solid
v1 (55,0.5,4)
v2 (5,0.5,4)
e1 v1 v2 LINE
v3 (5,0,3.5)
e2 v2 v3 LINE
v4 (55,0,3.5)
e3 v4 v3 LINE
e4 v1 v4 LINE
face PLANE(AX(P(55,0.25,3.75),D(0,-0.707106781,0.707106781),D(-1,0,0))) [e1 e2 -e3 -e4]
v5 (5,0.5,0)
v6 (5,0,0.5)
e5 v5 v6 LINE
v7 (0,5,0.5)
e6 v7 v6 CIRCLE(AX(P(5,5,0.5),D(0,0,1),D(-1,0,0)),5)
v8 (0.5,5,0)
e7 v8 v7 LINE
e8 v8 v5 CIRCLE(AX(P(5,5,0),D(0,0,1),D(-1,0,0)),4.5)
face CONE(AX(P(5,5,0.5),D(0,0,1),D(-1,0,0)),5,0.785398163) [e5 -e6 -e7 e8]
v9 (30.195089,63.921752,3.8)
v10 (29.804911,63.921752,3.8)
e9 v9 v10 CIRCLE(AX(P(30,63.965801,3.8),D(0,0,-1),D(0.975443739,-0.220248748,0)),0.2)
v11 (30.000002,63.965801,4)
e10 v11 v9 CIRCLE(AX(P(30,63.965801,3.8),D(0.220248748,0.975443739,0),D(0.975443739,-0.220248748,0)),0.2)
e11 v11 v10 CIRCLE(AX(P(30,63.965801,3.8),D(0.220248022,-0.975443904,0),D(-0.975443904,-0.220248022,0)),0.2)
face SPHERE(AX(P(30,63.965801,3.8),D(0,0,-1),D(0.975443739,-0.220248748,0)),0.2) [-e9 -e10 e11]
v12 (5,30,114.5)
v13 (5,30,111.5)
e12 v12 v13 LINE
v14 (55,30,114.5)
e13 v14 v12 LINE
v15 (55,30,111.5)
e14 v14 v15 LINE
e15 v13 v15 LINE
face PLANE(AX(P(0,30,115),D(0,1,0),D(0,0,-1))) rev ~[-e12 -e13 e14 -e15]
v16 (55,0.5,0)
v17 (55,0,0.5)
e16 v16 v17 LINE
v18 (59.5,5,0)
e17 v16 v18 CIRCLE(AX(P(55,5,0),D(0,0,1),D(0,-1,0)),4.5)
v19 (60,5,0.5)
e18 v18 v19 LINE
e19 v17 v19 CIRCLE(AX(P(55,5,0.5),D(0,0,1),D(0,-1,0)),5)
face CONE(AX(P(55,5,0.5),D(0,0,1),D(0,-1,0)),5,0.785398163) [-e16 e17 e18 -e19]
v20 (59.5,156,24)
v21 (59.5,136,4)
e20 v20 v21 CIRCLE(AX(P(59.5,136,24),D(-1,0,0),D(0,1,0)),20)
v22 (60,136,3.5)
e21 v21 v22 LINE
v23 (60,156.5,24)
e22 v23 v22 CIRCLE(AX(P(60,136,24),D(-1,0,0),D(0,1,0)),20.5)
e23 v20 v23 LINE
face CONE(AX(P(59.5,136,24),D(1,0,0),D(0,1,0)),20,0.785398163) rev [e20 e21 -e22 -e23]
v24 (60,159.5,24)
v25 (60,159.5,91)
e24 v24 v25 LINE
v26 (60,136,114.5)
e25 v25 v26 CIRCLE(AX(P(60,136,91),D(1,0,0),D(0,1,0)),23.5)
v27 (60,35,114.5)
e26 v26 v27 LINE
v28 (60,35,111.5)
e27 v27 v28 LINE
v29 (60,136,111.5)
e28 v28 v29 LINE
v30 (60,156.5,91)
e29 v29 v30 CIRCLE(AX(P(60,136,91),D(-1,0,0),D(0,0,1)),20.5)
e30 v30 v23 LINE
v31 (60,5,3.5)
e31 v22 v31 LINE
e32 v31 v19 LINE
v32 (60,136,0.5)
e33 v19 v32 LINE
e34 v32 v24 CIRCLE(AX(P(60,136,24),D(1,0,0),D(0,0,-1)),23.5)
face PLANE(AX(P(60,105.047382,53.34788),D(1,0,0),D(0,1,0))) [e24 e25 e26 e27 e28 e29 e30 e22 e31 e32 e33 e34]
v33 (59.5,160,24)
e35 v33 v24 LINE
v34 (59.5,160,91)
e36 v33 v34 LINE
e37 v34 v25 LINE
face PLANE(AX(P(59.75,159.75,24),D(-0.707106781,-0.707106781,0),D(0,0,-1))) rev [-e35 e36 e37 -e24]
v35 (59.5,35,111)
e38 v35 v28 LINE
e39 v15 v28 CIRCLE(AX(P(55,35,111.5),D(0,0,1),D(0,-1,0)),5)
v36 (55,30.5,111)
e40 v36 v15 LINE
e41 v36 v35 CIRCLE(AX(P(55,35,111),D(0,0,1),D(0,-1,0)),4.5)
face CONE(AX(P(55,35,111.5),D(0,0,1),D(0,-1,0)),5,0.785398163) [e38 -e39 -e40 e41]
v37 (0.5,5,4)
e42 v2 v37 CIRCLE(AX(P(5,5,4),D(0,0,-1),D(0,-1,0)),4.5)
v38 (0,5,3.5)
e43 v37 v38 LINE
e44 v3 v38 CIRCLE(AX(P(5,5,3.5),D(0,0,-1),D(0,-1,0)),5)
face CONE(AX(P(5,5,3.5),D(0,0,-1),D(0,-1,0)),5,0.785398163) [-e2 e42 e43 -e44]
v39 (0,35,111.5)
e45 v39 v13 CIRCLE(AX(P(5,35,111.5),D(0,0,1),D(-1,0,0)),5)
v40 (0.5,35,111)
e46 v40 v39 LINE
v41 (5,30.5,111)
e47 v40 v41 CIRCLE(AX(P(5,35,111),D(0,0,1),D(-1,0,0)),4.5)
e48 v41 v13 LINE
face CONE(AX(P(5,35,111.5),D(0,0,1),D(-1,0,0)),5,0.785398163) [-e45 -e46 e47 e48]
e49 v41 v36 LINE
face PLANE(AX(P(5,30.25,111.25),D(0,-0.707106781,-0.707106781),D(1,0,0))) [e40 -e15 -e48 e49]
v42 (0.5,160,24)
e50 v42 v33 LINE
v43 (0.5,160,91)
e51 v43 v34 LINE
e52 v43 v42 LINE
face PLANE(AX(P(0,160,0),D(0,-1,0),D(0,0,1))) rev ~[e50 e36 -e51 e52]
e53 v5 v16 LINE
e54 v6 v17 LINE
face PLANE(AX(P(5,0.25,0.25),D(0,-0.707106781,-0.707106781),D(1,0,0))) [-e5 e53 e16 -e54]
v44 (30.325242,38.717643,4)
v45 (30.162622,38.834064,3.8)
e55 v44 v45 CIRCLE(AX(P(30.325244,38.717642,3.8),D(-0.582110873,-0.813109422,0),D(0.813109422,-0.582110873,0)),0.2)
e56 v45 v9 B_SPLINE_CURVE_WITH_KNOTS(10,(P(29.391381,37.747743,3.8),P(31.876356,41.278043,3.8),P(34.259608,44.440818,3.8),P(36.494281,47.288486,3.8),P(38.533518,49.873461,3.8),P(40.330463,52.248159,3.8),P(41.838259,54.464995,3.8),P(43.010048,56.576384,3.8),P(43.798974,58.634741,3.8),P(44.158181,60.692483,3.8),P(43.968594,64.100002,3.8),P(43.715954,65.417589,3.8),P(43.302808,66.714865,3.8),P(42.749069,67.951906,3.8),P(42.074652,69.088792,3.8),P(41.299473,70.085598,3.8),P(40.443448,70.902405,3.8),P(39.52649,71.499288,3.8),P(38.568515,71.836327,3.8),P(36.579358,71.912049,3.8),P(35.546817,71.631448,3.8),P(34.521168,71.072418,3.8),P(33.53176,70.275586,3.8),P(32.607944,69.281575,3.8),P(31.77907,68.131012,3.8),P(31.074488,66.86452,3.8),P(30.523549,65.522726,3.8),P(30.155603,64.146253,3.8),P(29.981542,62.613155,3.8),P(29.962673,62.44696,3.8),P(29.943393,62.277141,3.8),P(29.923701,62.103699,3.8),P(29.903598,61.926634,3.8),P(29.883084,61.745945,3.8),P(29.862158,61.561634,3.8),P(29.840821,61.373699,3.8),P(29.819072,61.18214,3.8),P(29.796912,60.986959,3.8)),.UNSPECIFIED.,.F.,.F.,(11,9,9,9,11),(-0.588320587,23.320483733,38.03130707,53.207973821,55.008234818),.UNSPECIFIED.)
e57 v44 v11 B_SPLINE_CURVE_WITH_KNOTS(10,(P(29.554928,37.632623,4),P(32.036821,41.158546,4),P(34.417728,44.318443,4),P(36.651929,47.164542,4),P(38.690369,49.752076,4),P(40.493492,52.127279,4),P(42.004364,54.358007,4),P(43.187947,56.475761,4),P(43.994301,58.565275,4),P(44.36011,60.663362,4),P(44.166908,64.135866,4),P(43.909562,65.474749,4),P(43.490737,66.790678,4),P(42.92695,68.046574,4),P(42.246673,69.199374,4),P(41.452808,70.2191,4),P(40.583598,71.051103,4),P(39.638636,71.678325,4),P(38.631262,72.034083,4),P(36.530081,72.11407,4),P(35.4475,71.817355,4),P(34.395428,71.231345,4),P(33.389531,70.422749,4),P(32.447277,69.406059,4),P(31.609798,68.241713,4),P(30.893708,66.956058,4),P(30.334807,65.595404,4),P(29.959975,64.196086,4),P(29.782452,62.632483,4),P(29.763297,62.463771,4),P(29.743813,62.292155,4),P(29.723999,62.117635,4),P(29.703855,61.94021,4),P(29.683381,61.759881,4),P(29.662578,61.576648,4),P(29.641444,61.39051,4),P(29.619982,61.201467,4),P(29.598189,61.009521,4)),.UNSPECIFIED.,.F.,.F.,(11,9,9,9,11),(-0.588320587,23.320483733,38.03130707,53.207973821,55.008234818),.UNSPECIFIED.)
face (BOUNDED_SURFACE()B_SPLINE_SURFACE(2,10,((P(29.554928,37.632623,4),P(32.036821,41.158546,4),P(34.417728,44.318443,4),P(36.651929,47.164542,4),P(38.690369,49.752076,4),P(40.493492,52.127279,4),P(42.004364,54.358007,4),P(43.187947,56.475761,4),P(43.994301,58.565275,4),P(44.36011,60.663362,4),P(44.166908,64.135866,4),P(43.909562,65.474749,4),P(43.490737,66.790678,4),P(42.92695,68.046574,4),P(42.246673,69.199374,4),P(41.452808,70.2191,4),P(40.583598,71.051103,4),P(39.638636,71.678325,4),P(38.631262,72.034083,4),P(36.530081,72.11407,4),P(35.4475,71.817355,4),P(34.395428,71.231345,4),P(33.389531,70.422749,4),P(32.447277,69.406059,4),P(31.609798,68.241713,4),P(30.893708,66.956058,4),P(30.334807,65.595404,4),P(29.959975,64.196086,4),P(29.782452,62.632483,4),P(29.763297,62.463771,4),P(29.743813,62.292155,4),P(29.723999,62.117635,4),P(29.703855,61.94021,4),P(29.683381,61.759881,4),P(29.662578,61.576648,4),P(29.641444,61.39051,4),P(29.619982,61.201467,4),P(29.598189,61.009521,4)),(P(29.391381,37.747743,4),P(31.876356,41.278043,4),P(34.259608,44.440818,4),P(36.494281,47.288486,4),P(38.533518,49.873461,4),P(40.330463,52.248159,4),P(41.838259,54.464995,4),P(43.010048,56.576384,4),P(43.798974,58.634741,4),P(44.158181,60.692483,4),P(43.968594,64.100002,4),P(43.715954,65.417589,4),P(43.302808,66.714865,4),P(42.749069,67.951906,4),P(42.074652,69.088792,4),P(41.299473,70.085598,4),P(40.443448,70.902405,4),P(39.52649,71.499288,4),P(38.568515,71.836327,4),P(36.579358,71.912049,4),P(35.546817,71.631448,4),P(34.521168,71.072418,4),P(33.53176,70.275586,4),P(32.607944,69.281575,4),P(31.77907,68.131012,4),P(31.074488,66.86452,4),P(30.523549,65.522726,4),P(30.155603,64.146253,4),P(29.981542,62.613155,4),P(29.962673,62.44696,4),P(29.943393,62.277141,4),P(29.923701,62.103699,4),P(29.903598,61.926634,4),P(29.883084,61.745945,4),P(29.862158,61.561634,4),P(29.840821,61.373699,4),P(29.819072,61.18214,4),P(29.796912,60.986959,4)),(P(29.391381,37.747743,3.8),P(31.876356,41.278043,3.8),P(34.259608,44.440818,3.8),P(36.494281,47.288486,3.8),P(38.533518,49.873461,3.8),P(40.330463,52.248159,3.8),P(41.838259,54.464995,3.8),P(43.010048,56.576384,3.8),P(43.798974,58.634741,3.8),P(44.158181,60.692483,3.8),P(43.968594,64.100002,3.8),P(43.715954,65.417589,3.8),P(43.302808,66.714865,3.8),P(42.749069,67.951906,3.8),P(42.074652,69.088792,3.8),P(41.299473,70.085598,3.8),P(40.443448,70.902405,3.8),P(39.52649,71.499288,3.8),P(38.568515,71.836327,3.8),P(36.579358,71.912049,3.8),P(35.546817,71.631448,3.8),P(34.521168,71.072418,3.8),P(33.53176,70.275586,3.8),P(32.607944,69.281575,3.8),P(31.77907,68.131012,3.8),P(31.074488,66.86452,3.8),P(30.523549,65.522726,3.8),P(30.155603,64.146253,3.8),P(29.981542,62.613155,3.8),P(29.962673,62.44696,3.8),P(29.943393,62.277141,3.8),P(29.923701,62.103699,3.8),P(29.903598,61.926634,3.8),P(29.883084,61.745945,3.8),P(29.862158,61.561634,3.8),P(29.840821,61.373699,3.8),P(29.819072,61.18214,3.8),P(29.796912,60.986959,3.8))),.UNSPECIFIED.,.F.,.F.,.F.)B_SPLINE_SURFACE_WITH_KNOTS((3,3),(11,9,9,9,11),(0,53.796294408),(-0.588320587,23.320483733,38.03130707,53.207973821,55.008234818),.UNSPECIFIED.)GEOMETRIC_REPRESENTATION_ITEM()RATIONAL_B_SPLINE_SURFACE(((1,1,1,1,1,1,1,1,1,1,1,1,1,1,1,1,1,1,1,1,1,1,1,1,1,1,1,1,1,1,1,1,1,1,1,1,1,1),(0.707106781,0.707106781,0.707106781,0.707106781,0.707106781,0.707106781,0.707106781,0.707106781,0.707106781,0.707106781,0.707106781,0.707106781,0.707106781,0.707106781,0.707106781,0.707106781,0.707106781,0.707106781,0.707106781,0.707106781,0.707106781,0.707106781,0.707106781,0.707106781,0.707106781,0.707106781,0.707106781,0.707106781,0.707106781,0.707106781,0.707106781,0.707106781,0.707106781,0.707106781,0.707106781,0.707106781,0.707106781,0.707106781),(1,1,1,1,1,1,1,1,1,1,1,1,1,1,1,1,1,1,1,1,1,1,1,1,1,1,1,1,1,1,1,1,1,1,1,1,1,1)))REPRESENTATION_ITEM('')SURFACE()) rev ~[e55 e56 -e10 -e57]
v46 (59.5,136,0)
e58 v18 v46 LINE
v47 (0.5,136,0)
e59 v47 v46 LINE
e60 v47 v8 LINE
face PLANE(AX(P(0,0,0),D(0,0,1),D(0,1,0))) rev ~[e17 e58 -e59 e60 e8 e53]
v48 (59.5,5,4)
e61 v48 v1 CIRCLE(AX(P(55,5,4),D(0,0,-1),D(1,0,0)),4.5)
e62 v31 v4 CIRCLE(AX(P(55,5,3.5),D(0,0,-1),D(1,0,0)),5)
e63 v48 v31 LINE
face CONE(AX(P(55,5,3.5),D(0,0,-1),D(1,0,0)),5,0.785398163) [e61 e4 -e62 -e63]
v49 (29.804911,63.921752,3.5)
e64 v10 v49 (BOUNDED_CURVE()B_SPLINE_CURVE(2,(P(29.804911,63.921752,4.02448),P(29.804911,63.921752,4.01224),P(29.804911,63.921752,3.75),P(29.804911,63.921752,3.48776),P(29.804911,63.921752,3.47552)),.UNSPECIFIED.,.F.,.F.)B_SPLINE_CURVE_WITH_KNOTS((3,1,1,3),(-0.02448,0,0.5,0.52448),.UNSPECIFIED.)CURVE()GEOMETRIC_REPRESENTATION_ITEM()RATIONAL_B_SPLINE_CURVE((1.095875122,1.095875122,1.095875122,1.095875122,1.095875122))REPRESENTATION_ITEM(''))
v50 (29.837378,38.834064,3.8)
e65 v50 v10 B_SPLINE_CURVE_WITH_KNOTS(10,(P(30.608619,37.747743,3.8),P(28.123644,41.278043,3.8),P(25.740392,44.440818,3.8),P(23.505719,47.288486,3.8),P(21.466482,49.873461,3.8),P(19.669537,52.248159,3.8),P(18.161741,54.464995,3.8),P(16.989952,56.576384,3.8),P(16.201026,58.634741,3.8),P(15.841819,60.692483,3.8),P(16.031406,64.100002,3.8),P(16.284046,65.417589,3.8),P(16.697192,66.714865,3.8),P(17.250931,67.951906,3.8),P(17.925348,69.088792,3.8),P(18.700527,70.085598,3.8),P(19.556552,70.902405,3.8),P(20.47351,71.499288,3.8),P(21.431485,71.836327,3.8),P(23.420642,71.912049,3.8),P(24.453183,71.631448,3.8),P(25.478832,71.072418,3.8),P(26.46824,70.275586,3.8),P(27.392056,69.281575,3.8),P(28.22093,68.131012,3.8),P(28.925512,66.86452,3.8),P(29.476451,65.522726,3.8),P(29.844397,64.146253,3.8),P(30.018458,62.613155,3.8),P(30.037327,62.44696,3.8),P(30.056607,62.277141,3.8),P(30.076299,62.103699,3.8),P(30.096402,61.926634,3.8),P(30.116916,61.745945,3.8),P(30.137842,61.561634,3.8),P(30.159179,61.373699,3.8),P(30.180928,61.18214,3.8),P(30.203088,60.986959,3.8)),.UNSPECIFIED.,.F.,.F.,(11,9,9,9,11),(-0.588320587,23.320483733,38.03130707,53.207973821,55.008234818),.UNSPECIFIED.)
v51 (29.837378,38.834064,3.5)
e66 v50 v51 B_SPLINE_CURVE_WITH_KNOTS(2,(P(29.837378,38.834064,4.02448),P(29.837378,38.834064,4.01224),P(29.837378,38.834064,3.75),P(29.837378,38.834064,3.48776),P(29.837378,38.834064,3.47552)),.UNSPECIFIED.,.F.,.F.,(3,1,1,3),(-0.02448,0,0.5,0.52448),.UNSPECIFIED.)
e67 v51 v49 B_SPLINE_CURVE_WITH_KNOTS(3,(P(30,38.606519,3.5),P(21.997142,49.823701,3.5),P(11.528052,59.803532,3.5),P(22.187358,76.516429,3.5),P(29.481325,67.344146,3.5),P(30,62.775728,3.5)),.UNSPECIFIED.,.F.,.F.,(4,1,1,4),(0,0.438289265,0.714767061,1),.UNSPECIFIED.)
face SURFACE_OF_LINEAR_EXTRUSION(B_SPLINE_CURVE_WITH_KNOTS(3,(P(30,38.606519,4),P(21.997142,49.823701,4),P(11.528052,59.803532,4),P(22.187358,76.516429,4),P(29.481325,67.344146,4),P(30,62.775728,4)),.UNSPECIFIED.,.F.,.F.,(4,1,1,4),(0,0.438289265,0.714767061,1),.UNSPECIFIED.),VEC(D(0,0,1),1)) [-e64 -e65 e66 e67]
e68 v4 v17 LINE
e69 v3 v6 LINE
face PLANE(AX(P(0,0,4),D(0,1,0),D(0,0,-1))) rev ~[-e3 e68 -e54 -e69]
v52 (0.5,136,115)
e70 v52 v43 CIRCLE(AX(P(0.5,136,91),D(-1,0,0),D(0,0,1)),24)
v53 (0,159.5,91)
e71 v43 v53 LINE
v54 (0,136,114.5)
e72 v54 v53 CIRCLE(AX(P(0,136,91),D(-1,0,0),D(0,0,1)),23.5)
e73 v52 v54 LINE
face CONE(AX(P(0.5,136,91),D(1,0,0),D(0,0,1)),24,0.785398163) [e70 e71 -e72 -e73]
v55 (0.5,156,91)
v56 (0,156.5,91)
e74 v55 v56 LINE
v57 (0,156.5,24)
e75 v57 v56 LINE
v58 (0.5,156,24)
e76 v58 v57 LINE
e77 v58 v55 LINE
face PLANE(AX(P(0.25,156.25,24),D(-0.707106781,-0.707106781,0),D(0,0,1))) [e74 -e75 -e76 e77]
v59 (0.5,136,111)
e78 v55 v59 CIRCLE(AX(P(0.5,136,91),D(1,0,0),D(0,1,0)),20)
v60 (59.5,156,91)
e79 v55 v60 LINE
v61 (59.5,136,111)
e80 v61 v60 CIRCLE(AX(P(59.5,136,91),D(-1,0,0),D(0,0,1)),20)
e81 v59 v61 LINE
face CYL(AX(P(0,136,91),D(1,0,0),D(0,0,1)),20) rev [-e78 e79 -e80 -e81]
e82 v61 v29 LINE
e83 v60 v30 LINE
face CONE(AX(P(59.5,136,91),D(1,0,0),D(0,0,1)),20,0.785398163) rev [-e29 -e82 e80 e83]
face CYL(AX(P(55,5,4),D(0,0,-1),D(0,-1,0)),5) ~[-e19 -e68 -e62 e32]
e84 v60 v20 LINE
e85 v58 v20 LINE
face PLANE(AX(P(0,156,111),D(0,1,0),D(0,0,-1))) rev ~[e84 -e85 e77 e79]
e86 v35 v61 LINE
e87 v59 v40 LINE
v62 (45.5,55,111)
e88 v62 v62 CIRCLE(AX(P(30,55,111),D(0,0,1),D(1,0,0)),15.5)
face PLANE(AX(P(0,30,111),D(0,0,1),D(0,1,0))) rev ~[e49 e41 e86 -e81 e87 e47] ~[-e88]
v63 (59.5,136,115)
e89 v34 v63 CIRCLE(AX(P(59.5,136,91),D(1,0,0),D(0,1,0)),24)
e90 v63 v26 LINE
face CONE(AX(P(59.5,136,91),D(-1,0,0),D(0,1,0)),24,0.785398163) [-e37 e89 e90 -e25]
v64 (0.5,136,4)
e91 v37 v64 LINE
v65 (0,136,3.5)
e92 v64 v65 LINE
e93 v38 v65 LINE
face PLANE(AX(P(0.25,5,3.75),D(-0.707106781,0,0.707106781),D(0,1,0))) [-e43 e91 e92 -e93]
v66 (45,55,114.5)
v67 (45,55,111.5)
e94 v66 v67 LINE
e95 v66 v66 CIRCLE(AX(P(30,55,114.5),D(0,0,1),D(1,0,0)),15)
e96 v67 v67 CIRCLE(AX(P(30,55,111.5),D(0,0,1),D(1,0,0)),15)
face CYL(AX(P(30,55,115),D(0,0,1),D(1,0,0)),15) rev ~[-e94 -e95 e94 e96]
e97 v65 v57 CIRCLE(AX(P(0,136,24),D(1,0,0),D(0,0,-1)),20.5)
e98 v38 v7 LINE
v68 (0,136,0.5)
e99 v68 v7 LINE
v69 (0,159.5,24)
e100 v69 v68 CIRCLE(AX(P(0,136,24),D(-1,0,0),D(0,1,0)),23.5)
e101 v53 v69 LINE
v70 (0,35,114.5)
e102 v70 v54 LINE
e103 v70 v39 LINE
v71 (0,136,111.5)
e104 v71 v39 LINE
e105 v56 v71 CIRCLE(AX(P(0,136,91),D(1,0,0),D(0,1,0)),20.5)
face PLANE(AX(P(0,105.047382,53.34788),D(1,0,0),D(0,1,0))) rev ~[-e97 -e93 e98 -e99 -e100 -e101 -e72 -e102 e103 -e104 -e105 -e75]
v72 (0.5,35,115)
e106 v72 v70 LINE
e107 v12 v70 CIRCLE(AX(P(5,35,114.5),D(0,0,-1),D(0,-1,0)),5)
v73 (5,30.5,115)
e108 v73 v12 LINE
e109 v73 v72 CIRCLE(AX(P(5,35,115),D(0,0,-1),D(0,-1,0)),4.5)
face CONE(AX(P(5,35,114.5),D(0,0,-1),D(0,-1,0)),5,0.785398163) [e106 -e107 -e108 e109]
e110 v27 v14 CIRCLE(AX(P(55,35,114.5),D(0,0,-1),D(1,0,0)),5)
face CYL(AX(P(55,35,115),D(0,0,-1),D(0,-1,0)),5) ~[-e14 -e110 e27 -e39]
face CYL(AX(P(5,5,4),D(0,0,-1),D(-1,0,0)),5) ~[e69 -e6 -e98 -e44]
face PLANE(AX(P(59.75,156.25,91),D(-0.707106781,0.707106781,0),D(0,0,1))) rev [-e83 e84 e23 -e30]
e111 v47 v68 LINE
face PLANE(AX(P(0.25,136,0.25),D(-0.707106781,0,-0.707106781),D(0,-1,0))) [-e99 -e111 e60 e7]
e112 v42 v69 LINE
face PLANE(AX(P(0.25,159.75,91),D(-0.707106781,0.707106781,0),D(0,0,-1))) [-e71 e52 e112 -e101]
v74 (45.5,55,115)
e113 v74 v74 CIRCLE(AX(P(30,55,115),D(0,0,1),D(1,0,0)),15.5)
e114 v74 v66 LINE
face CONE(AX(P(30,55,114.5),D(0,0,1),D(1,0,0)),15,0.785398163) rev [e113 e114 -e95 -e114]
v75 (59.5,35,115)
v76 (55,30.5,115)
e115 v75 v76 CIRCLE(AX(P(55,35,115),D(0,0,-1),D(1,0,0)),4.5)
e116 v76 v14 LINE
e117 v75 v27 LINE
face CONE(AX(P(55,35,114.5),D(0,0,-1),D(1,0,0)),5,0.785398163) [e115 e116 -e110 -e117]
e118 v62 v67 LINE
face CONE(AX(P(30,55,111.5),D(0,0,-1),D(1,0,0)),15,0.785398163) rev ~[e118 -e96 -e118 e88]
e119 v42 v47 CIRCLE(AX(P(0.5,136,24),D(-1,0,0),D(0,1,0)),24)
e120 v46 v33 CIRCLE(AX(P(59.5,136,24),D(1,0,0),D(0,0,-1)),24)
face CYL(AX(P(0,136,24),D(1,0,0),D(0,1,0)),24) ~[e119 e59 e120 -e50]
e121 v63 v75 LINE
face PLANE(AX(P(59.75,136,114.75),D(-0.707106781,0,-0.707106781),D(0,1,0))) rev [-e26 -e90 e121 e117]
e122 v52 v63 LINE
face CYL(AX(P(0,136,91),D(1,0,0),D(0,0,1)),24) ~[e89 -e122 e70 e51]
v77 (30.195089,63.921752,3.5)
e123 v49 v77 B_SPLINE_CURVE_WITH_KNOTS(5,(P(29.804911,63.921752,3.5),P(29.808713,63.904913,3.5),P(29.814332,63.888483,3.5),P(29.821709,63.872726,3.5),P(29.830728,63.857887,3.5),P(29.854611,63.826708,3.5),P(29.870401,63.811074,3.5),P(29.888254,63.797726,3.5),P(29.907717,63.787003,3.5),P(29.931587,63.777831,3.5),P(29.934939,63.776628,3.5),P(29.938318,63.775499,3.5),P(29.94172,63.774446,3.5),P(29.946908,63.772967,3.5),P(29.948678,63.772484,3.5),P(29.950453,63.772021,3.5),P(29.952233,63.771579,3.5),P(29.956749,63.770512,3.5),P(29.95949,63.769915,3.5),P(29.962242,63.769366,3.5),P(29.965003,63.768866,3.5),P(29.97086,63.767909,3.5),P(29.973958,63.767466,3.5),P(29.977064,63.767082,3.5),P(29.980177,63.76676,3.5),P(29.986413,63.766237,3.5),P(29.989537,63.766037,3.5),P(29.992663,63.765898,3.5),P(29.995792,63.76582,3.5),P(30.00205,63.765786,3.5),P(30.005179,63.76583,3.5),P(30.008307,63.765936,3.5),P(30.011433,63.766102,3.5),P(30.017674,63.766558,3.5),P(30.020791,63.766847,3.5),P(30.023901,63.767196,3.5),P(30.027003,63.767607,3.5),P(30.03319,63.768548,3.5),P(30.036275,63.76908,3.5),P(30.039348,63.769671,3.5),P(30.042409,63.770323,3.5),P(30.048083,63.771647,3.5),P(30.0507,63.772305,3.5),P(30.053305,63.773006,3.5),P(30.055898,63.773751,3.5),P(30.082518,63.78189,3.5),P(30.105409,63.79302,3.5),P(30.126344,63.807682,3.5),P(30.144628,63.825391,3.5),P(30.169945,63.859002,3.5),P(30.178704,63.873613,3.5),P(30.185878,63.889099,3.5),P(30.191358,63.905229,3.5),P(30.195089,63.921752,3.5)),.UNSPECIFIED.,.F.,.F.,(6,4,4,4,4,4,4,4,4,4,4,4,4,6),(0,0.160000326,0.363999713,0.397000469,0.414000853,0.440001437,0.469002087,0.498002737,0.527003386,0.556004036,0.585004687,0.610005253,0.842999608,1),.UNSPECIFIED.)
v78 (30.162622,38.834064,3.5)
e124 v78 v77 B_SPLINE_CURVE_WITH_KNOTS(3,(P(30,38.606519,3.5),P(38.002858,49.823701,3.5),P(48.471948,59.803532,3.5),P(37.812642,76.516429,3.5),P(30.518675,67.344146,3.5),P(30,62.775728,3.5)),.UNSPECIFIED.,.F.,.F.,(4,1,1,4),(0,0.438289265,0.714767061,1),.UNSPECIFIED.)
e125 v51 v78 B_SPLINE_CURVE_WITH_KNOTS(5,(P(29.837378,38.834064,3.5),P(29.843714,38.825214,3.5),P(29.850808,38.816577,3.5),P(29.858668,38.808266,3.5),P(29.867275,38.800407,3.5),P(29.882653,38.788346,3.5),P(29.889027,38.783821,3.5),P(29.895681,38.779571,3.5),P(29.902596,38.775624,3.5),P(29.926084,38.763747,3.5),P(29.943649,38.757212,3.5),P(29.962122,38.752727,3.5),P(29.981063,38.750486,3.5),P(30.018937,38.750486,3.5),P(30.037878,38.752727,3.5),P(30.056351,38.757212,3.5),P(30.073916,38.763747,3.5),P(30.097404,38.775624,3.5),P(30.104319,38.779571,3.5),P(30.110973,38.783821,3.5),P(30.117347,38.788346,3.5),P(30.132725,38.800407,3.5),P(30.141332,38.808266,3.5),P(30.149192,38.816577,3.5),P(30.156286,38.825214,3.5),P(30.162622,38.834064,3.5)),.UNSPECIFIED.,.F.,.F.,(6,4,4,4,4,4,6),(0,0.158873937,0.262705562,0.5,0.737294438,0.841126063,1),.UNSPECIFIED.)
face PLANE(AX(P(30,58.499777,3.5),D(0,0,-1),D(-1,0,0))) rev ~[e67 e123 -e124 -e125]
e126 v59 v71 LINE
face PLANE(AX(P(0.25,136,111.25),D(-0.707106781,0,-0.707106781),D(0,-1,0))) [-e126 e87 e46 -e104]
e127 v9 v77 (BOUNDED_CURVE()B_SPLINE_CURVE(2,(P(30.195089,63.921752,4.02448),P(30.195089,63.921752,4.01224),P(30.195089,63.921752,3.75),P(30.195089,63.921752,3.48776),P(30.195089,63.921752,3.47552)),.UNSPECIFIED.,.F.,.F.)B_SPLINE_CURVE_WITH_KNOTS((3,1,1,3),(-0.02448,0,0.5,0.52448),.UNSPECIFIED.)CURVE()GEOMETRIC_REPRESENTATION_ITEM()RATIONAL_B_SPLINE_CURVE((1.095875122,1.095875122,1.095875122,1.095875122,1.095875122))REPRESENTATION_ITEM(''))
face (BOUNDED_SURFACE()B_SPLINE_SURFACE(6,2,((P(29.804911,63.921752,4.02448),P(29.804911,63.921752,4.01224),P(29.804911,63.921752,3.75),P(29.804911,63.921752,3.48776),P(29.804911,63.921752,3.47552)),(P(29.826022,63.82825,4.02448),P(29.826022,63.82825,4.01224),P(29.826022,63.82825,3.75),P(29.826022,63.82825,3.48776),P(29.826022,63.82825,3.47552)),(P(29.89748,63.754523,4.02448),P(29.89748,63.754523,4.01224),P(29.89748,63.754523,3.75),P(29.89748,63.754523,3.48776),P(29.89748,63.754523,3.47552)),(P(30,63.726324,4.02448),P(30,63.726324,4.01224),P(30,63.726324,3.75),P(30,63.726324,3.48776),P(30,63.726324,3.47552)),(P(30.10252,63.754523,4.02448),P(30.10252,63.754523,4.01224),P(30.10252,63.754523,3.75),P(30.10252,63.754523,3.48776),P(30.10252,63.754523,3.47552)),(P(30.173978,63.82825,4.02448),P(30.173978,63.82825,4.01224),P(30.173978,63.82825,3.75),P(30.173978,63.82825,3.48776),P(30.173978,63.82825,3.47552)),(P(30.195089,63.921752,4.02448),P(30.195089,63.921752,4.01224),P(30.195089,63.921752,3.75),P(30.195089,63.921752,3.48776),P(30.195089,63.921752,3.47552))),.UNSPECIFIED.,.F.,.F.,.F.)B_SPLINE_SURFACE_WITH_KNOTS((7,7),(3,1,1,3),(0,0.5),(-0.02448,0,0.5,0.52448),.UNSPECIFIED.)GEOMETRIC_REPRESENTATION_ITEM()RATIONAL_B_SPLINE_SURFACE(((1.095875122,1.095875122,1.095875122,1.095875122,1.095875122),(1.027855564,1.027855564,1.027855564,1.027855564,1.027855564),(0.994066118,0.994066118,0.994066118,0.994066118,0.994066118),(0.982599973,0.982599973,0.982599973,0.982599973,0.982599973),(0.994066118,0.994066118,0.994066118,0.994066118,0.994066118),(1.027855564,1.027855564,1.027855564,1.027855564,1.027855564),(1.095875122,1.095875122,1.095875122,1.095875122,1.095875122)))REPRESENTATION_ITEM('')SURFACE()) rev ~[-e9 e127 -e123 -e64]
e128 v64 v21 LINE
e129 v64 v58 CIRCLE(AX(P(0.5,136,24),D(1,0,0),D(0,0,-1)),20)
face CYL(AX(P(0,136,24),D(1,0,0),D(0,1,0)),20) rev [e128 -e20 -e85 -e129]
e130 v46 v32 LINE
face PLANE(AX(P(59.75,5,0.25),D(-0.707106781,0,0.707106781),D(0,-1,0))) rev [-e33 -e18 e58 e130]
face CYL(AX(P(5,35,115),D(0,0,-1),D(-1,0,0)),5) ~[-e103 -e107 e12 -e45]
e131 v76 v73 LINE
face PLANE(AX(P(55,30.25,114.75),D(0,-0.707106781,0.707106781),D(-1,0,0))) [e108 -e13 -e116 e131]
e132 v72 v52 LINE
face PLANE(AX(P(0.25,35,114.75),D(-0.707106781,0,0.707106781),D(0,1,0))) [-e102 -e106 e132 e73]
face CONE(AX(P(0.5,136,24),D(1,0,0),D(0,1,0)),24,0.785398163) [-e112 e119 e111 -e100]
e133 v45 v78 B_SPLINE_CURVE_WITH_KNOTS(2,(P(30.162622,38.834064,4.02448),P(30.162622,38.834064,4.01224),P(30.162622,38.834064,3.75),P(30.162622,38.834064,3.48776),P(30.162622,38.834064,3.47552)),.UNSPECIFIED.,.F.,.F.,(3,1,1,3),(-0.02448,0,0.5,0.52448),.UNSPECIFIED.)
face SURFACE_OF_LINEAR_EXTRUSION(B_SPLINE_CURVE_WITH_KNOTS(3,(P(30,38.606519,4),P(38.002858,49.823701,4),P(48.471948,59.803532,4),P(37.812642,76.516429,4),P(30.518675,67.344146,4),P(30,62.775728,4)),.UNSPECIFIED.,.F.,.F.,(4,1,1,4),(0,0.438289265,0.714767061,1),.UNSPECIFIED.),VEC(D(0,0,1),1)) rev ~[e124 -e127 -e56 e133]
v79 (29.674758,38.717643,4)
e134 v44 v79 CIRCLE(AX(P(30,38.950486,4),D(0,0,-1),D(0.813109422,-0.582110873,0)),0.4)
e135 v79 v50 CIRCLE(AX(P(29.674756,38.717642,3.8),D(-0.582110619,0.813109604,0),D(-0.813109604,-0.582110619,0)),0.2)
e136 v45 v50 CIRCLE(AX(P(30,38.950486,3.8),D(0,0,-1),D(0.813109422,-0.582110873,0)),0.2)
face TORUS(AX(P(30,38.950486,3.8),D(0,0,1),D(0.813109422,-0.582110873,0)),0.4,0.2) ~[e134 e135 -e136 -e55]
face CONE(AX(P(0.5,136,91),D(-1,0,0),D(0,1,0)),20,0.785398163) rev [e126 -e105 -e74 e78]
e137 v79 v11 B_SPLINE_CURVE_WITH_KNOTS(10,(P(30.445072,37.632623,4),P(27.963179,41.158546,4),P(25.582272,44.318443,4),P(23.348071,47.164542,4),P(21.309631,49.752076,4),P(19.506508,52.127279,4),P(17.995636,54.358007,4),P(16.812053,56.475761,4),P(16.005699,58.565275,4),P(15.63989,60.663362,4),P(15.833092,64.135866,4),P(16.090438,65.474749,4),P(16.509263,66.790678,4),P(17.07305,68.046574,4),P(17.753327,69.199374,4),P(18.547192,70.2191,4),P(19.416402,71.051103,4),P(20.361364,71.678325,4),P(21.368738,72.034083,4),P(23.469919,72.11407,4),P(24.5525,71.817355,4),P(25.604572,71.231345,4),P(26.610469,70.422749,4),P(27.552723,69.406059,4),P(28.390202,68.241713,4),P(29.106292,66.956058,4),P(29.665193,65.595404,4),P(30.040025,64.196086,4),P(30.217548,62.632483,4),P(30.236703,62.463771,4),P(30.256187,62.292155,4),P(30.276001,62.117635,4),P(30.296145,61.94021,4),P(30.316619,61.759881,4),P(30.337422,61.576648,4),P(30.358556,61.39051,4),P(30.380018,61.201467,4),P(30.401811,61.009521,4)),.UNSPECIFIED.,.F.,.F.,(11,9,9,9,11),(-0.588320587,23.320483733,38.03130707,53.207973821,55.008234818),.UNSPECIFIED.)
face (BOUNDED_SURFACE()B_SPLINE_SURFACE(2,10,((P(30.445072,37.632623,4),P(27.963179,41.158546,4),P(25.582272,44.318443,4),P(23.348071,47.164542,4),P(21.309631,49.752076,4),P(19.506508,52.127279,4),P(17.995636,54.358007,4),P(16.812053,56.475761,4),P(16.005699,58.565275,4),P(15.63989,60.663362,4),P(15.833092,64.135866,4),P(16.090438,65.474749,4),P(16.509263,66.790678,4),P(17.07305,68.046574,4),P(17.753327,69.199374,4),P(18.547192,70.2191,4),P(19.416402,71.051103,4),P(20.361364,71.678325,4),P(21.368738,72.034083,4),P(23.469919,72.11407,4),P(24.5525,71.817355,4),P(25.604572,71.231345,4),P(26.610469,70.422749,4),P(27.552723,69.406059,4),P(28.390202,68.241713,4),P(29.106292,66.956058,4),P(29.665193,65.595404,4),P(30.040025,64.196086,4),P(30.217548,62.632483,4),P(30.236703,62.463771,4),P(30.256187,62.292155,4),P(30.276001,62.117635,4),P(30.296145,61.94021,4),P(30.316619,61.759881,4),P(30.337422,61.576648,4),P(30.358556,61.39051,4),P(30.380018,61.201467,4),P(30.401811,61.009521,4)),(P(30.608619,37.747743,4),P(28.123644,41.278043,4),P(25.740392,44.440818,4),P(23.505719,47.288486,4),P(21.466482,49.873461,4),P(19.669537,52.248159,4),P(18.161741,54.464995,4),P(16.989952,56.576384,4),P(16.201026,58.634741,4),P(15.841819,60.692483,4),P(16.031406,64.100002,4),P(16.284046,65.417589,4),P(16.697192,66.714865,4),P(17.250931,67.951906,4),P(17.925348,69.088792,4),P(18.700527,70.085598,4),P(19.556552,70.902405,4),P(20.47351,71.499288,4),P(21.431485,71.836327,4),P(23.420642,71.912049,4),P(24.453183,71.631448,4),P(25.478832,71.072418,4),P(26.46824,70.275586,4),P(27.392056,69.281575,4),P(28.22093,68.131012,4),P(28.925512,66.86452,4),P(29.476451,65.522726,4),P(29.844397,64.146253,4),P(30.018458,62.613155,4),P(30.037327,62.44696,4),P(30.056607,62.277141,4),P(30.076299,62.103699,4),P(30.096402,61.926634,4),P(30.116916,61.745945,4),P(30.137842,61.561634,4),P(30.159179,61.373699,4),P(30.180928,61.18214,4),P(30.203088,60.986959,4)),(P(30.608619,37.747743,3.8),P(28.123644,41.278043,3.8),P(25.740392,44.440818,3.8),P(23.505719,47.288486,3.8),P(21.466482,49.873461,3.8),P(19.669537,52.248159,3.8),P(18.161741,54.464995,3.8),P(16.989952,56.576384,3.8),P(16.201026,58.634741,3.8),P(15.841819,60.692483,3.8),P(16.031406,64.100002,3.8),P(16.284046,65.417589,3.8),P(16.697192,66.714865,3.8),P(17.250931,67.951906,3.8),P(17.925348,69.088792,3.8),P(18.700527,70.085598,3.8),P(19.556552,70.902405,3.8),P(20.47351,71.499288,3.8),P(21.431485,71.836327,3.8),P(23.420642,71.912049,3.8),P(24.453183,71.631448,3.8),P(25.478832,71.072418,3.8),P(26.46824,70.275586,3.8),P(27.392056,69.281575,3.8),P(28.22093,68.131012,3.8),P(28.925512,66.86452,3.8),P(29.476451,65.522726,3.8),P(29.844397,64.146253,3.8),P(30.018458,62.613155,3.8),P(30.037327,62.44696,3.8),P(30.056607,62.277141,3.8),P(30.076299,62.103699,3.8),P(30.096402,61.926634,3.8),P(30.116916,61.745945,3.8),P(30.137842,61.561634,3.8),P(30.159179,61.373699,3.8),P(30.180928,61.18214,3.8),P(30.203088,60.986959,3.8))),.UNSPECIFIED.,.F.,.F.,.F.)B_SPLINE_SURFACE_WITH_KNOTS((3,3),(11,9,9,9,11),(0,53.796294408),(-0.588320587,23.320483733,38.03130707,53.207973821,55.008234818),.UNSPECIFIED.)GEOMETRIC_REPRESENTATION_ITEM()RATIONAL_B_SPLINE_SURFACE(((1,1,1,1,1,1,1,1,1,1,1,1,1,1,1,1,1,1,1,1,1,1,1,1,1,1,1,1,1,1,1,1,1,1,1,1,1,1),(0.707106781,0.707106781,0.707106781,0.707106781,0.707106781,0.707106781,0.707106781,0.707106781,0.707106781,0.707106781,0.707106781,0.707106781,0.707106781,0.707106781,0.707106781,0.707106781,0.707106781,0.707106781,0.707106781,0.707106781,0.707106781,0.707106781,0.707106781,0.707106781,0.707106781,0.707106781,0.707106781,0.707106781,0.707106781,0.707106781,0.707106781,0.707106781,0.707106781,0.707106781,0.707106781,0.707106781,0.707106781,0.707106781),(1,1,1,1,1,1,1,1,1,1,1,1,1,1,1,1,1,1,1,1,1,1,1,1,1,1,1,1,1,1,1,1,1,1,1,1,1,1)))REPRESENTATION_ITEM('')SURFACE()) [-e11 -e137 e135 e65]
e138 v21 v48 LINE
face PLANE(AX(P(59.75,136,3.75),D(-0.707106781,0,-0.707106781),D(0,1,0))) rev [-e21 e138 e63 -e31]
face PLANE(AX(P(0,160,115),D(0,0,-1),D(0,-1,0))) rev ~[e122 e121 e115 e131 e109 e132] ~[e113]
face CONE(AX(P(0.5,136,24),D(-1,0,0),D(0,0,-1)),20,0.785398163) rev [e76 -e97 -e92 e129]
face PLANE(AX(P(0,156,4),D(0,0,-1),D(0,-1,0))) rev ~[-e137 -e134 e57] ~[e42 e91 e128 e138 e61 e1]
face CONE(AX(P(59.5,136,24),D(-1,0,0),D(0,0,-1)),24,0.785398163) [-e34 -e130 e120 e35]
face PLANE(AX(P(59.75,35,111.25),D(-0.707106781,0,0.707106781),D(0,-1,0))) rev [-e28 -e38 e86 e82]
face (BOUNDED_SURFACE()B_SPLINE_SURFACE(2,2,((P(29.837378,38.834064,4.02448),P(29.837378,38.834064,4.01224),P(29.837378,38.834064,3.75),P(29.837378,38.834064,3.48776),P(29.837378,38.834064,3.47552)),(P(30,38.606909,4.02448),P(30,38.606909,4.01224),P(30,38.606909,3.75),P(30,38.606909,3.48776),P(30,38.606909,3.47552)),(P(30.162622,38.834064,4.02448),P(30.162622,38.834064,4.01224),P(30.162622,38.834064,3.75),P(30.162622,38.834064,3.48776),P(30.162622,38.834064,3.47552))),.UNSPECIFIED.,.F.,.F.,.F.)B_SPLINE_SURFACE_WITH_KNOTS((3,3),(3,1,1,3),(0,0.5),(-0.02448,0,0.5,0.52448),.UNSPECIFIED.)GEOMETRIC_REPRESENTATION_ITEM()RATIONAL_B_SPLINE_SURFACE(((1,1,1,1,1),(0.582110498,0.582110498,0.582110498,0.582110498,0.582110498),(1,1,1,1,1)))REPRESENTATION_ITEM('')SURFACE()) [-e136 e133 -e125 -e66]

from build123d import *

# Parameters (mm, degrees)
F1_DEPTH = 60
F2_R     = 20
F3_R     = 24
F4_R     = 5
F5_R     = 15
F6_DEPTH = 4
F7_SIZE  = 0.5
F9_DEPTH = 0.5
F10_R    = 0.2


with BuildPart() as f1:
    # F0 (on Right) → F1 (new body)
    with BuildSketch(Plane.YZ):
        Polygon((0, 4), (0, 0), (160, 0), (160, 115), (30, 115), (30, 111), (156, 111), (156, 4), align=None)
    extrude(amount=F1_DEPTH)

    # F2
    f2_edges = [f1.edges().sort_by_distance(p)[0] for p in [
        (30, 156, 111),
        (30, 156, 4),
    ]]
    fillet(f2_edges, radius=F2_R)

    # F3
    f3_edges = [f1.edges().sort_by_distance(p)[0] for p in [
        (30, 160, 115),
        (30, 160, 0),
    ]]
    fillet(f3_edges, radius=F3_R)

    # F4
    f4_edges = [f1.edges().sort_by_distance(p)[0] for p in [
        (0, 30, 113),
        (60, 30, 113),
        (0, 0, 2),
        (60, 0, 2),
    ]]
    fillet(f4_edges, radius=F4_R)

    # F5 (on face) → F6 (cut, through all)
    with BuildSketch(Plane.XY.offset(115)):
        with Locations((30, 55)):
            Circle(F5_R)
    extrude(amount=-F6_DEPTH, mode=Mode.SUBTRACT)

    # F7
    f7_edges = [f1.edges().sort_by_distance(p)[0] for p in [
        (45, 55, 113),
        (15, 55, 115),
        (15, 55, 111),
        (60, 85.5, 115),
        (60, 35, 113),
        (60, 152.970563, 107.970563),
        (60, 85.5, 111),
        (60, 160, 57.5),
        (60, 150.142136, 105.142136),
        (60, 152.970563, 7.029437),
        (60, 156, 57.5),
        (60, 70.5, 0),
        (60, 150.142136, 9.857864),
        (60, 5, 2),
        (60, 70.5, 4),
    ]]
    chamfer(f7_edges, length=F7_SIZE)

    # F8 (on face) → F9 (cut)
    with BuildSketch(Plane.XY.offset(4)):
        with BuildLine():
            add(Edge.make_bspline(
                [(30, 38.6065185261), (21.9971418158, 49.8237009627), (11.5280524688, 59.8035321959), (22.1873581544, 76.5164287378), (29.4813248377, 67.3441461739), (30, 62.7757276542)],
                knots=[0, 0, 0, 0, 0.4382892649, 0.714767061, 1, 1, 1, 1], degree=3))
            add(Edge.make_bspline(
                [(30, 38.6065185261), (38.0028581842, 49.8237009627), (48.4719475312, 59.8035321959), (37.8126418456, 76.5164287378), (30.5186751623, 67.3441461739), (30, 62.7757276542)],
                knots=[0, 0, 0, 0, 0.4382892649, 0.714767061, 1, 1, 1, 1], degree=3))
        make_face()
    extrude(amount=-F9_DEPTH, mode=Mode.SUBTRACT)

    # F10
    f10_edges = [f1.edges().sort_by_distance(p)[0] for p in [
        (30, 62.775728, 3.75),
        (43.981873, 60.959585, 4),
        (16.018127, 60.959585, 4),
        (30, 38.606519, 3.75),
    ]]
    fillet(f10_edges, radius=F10_R)


solid = f1.part
